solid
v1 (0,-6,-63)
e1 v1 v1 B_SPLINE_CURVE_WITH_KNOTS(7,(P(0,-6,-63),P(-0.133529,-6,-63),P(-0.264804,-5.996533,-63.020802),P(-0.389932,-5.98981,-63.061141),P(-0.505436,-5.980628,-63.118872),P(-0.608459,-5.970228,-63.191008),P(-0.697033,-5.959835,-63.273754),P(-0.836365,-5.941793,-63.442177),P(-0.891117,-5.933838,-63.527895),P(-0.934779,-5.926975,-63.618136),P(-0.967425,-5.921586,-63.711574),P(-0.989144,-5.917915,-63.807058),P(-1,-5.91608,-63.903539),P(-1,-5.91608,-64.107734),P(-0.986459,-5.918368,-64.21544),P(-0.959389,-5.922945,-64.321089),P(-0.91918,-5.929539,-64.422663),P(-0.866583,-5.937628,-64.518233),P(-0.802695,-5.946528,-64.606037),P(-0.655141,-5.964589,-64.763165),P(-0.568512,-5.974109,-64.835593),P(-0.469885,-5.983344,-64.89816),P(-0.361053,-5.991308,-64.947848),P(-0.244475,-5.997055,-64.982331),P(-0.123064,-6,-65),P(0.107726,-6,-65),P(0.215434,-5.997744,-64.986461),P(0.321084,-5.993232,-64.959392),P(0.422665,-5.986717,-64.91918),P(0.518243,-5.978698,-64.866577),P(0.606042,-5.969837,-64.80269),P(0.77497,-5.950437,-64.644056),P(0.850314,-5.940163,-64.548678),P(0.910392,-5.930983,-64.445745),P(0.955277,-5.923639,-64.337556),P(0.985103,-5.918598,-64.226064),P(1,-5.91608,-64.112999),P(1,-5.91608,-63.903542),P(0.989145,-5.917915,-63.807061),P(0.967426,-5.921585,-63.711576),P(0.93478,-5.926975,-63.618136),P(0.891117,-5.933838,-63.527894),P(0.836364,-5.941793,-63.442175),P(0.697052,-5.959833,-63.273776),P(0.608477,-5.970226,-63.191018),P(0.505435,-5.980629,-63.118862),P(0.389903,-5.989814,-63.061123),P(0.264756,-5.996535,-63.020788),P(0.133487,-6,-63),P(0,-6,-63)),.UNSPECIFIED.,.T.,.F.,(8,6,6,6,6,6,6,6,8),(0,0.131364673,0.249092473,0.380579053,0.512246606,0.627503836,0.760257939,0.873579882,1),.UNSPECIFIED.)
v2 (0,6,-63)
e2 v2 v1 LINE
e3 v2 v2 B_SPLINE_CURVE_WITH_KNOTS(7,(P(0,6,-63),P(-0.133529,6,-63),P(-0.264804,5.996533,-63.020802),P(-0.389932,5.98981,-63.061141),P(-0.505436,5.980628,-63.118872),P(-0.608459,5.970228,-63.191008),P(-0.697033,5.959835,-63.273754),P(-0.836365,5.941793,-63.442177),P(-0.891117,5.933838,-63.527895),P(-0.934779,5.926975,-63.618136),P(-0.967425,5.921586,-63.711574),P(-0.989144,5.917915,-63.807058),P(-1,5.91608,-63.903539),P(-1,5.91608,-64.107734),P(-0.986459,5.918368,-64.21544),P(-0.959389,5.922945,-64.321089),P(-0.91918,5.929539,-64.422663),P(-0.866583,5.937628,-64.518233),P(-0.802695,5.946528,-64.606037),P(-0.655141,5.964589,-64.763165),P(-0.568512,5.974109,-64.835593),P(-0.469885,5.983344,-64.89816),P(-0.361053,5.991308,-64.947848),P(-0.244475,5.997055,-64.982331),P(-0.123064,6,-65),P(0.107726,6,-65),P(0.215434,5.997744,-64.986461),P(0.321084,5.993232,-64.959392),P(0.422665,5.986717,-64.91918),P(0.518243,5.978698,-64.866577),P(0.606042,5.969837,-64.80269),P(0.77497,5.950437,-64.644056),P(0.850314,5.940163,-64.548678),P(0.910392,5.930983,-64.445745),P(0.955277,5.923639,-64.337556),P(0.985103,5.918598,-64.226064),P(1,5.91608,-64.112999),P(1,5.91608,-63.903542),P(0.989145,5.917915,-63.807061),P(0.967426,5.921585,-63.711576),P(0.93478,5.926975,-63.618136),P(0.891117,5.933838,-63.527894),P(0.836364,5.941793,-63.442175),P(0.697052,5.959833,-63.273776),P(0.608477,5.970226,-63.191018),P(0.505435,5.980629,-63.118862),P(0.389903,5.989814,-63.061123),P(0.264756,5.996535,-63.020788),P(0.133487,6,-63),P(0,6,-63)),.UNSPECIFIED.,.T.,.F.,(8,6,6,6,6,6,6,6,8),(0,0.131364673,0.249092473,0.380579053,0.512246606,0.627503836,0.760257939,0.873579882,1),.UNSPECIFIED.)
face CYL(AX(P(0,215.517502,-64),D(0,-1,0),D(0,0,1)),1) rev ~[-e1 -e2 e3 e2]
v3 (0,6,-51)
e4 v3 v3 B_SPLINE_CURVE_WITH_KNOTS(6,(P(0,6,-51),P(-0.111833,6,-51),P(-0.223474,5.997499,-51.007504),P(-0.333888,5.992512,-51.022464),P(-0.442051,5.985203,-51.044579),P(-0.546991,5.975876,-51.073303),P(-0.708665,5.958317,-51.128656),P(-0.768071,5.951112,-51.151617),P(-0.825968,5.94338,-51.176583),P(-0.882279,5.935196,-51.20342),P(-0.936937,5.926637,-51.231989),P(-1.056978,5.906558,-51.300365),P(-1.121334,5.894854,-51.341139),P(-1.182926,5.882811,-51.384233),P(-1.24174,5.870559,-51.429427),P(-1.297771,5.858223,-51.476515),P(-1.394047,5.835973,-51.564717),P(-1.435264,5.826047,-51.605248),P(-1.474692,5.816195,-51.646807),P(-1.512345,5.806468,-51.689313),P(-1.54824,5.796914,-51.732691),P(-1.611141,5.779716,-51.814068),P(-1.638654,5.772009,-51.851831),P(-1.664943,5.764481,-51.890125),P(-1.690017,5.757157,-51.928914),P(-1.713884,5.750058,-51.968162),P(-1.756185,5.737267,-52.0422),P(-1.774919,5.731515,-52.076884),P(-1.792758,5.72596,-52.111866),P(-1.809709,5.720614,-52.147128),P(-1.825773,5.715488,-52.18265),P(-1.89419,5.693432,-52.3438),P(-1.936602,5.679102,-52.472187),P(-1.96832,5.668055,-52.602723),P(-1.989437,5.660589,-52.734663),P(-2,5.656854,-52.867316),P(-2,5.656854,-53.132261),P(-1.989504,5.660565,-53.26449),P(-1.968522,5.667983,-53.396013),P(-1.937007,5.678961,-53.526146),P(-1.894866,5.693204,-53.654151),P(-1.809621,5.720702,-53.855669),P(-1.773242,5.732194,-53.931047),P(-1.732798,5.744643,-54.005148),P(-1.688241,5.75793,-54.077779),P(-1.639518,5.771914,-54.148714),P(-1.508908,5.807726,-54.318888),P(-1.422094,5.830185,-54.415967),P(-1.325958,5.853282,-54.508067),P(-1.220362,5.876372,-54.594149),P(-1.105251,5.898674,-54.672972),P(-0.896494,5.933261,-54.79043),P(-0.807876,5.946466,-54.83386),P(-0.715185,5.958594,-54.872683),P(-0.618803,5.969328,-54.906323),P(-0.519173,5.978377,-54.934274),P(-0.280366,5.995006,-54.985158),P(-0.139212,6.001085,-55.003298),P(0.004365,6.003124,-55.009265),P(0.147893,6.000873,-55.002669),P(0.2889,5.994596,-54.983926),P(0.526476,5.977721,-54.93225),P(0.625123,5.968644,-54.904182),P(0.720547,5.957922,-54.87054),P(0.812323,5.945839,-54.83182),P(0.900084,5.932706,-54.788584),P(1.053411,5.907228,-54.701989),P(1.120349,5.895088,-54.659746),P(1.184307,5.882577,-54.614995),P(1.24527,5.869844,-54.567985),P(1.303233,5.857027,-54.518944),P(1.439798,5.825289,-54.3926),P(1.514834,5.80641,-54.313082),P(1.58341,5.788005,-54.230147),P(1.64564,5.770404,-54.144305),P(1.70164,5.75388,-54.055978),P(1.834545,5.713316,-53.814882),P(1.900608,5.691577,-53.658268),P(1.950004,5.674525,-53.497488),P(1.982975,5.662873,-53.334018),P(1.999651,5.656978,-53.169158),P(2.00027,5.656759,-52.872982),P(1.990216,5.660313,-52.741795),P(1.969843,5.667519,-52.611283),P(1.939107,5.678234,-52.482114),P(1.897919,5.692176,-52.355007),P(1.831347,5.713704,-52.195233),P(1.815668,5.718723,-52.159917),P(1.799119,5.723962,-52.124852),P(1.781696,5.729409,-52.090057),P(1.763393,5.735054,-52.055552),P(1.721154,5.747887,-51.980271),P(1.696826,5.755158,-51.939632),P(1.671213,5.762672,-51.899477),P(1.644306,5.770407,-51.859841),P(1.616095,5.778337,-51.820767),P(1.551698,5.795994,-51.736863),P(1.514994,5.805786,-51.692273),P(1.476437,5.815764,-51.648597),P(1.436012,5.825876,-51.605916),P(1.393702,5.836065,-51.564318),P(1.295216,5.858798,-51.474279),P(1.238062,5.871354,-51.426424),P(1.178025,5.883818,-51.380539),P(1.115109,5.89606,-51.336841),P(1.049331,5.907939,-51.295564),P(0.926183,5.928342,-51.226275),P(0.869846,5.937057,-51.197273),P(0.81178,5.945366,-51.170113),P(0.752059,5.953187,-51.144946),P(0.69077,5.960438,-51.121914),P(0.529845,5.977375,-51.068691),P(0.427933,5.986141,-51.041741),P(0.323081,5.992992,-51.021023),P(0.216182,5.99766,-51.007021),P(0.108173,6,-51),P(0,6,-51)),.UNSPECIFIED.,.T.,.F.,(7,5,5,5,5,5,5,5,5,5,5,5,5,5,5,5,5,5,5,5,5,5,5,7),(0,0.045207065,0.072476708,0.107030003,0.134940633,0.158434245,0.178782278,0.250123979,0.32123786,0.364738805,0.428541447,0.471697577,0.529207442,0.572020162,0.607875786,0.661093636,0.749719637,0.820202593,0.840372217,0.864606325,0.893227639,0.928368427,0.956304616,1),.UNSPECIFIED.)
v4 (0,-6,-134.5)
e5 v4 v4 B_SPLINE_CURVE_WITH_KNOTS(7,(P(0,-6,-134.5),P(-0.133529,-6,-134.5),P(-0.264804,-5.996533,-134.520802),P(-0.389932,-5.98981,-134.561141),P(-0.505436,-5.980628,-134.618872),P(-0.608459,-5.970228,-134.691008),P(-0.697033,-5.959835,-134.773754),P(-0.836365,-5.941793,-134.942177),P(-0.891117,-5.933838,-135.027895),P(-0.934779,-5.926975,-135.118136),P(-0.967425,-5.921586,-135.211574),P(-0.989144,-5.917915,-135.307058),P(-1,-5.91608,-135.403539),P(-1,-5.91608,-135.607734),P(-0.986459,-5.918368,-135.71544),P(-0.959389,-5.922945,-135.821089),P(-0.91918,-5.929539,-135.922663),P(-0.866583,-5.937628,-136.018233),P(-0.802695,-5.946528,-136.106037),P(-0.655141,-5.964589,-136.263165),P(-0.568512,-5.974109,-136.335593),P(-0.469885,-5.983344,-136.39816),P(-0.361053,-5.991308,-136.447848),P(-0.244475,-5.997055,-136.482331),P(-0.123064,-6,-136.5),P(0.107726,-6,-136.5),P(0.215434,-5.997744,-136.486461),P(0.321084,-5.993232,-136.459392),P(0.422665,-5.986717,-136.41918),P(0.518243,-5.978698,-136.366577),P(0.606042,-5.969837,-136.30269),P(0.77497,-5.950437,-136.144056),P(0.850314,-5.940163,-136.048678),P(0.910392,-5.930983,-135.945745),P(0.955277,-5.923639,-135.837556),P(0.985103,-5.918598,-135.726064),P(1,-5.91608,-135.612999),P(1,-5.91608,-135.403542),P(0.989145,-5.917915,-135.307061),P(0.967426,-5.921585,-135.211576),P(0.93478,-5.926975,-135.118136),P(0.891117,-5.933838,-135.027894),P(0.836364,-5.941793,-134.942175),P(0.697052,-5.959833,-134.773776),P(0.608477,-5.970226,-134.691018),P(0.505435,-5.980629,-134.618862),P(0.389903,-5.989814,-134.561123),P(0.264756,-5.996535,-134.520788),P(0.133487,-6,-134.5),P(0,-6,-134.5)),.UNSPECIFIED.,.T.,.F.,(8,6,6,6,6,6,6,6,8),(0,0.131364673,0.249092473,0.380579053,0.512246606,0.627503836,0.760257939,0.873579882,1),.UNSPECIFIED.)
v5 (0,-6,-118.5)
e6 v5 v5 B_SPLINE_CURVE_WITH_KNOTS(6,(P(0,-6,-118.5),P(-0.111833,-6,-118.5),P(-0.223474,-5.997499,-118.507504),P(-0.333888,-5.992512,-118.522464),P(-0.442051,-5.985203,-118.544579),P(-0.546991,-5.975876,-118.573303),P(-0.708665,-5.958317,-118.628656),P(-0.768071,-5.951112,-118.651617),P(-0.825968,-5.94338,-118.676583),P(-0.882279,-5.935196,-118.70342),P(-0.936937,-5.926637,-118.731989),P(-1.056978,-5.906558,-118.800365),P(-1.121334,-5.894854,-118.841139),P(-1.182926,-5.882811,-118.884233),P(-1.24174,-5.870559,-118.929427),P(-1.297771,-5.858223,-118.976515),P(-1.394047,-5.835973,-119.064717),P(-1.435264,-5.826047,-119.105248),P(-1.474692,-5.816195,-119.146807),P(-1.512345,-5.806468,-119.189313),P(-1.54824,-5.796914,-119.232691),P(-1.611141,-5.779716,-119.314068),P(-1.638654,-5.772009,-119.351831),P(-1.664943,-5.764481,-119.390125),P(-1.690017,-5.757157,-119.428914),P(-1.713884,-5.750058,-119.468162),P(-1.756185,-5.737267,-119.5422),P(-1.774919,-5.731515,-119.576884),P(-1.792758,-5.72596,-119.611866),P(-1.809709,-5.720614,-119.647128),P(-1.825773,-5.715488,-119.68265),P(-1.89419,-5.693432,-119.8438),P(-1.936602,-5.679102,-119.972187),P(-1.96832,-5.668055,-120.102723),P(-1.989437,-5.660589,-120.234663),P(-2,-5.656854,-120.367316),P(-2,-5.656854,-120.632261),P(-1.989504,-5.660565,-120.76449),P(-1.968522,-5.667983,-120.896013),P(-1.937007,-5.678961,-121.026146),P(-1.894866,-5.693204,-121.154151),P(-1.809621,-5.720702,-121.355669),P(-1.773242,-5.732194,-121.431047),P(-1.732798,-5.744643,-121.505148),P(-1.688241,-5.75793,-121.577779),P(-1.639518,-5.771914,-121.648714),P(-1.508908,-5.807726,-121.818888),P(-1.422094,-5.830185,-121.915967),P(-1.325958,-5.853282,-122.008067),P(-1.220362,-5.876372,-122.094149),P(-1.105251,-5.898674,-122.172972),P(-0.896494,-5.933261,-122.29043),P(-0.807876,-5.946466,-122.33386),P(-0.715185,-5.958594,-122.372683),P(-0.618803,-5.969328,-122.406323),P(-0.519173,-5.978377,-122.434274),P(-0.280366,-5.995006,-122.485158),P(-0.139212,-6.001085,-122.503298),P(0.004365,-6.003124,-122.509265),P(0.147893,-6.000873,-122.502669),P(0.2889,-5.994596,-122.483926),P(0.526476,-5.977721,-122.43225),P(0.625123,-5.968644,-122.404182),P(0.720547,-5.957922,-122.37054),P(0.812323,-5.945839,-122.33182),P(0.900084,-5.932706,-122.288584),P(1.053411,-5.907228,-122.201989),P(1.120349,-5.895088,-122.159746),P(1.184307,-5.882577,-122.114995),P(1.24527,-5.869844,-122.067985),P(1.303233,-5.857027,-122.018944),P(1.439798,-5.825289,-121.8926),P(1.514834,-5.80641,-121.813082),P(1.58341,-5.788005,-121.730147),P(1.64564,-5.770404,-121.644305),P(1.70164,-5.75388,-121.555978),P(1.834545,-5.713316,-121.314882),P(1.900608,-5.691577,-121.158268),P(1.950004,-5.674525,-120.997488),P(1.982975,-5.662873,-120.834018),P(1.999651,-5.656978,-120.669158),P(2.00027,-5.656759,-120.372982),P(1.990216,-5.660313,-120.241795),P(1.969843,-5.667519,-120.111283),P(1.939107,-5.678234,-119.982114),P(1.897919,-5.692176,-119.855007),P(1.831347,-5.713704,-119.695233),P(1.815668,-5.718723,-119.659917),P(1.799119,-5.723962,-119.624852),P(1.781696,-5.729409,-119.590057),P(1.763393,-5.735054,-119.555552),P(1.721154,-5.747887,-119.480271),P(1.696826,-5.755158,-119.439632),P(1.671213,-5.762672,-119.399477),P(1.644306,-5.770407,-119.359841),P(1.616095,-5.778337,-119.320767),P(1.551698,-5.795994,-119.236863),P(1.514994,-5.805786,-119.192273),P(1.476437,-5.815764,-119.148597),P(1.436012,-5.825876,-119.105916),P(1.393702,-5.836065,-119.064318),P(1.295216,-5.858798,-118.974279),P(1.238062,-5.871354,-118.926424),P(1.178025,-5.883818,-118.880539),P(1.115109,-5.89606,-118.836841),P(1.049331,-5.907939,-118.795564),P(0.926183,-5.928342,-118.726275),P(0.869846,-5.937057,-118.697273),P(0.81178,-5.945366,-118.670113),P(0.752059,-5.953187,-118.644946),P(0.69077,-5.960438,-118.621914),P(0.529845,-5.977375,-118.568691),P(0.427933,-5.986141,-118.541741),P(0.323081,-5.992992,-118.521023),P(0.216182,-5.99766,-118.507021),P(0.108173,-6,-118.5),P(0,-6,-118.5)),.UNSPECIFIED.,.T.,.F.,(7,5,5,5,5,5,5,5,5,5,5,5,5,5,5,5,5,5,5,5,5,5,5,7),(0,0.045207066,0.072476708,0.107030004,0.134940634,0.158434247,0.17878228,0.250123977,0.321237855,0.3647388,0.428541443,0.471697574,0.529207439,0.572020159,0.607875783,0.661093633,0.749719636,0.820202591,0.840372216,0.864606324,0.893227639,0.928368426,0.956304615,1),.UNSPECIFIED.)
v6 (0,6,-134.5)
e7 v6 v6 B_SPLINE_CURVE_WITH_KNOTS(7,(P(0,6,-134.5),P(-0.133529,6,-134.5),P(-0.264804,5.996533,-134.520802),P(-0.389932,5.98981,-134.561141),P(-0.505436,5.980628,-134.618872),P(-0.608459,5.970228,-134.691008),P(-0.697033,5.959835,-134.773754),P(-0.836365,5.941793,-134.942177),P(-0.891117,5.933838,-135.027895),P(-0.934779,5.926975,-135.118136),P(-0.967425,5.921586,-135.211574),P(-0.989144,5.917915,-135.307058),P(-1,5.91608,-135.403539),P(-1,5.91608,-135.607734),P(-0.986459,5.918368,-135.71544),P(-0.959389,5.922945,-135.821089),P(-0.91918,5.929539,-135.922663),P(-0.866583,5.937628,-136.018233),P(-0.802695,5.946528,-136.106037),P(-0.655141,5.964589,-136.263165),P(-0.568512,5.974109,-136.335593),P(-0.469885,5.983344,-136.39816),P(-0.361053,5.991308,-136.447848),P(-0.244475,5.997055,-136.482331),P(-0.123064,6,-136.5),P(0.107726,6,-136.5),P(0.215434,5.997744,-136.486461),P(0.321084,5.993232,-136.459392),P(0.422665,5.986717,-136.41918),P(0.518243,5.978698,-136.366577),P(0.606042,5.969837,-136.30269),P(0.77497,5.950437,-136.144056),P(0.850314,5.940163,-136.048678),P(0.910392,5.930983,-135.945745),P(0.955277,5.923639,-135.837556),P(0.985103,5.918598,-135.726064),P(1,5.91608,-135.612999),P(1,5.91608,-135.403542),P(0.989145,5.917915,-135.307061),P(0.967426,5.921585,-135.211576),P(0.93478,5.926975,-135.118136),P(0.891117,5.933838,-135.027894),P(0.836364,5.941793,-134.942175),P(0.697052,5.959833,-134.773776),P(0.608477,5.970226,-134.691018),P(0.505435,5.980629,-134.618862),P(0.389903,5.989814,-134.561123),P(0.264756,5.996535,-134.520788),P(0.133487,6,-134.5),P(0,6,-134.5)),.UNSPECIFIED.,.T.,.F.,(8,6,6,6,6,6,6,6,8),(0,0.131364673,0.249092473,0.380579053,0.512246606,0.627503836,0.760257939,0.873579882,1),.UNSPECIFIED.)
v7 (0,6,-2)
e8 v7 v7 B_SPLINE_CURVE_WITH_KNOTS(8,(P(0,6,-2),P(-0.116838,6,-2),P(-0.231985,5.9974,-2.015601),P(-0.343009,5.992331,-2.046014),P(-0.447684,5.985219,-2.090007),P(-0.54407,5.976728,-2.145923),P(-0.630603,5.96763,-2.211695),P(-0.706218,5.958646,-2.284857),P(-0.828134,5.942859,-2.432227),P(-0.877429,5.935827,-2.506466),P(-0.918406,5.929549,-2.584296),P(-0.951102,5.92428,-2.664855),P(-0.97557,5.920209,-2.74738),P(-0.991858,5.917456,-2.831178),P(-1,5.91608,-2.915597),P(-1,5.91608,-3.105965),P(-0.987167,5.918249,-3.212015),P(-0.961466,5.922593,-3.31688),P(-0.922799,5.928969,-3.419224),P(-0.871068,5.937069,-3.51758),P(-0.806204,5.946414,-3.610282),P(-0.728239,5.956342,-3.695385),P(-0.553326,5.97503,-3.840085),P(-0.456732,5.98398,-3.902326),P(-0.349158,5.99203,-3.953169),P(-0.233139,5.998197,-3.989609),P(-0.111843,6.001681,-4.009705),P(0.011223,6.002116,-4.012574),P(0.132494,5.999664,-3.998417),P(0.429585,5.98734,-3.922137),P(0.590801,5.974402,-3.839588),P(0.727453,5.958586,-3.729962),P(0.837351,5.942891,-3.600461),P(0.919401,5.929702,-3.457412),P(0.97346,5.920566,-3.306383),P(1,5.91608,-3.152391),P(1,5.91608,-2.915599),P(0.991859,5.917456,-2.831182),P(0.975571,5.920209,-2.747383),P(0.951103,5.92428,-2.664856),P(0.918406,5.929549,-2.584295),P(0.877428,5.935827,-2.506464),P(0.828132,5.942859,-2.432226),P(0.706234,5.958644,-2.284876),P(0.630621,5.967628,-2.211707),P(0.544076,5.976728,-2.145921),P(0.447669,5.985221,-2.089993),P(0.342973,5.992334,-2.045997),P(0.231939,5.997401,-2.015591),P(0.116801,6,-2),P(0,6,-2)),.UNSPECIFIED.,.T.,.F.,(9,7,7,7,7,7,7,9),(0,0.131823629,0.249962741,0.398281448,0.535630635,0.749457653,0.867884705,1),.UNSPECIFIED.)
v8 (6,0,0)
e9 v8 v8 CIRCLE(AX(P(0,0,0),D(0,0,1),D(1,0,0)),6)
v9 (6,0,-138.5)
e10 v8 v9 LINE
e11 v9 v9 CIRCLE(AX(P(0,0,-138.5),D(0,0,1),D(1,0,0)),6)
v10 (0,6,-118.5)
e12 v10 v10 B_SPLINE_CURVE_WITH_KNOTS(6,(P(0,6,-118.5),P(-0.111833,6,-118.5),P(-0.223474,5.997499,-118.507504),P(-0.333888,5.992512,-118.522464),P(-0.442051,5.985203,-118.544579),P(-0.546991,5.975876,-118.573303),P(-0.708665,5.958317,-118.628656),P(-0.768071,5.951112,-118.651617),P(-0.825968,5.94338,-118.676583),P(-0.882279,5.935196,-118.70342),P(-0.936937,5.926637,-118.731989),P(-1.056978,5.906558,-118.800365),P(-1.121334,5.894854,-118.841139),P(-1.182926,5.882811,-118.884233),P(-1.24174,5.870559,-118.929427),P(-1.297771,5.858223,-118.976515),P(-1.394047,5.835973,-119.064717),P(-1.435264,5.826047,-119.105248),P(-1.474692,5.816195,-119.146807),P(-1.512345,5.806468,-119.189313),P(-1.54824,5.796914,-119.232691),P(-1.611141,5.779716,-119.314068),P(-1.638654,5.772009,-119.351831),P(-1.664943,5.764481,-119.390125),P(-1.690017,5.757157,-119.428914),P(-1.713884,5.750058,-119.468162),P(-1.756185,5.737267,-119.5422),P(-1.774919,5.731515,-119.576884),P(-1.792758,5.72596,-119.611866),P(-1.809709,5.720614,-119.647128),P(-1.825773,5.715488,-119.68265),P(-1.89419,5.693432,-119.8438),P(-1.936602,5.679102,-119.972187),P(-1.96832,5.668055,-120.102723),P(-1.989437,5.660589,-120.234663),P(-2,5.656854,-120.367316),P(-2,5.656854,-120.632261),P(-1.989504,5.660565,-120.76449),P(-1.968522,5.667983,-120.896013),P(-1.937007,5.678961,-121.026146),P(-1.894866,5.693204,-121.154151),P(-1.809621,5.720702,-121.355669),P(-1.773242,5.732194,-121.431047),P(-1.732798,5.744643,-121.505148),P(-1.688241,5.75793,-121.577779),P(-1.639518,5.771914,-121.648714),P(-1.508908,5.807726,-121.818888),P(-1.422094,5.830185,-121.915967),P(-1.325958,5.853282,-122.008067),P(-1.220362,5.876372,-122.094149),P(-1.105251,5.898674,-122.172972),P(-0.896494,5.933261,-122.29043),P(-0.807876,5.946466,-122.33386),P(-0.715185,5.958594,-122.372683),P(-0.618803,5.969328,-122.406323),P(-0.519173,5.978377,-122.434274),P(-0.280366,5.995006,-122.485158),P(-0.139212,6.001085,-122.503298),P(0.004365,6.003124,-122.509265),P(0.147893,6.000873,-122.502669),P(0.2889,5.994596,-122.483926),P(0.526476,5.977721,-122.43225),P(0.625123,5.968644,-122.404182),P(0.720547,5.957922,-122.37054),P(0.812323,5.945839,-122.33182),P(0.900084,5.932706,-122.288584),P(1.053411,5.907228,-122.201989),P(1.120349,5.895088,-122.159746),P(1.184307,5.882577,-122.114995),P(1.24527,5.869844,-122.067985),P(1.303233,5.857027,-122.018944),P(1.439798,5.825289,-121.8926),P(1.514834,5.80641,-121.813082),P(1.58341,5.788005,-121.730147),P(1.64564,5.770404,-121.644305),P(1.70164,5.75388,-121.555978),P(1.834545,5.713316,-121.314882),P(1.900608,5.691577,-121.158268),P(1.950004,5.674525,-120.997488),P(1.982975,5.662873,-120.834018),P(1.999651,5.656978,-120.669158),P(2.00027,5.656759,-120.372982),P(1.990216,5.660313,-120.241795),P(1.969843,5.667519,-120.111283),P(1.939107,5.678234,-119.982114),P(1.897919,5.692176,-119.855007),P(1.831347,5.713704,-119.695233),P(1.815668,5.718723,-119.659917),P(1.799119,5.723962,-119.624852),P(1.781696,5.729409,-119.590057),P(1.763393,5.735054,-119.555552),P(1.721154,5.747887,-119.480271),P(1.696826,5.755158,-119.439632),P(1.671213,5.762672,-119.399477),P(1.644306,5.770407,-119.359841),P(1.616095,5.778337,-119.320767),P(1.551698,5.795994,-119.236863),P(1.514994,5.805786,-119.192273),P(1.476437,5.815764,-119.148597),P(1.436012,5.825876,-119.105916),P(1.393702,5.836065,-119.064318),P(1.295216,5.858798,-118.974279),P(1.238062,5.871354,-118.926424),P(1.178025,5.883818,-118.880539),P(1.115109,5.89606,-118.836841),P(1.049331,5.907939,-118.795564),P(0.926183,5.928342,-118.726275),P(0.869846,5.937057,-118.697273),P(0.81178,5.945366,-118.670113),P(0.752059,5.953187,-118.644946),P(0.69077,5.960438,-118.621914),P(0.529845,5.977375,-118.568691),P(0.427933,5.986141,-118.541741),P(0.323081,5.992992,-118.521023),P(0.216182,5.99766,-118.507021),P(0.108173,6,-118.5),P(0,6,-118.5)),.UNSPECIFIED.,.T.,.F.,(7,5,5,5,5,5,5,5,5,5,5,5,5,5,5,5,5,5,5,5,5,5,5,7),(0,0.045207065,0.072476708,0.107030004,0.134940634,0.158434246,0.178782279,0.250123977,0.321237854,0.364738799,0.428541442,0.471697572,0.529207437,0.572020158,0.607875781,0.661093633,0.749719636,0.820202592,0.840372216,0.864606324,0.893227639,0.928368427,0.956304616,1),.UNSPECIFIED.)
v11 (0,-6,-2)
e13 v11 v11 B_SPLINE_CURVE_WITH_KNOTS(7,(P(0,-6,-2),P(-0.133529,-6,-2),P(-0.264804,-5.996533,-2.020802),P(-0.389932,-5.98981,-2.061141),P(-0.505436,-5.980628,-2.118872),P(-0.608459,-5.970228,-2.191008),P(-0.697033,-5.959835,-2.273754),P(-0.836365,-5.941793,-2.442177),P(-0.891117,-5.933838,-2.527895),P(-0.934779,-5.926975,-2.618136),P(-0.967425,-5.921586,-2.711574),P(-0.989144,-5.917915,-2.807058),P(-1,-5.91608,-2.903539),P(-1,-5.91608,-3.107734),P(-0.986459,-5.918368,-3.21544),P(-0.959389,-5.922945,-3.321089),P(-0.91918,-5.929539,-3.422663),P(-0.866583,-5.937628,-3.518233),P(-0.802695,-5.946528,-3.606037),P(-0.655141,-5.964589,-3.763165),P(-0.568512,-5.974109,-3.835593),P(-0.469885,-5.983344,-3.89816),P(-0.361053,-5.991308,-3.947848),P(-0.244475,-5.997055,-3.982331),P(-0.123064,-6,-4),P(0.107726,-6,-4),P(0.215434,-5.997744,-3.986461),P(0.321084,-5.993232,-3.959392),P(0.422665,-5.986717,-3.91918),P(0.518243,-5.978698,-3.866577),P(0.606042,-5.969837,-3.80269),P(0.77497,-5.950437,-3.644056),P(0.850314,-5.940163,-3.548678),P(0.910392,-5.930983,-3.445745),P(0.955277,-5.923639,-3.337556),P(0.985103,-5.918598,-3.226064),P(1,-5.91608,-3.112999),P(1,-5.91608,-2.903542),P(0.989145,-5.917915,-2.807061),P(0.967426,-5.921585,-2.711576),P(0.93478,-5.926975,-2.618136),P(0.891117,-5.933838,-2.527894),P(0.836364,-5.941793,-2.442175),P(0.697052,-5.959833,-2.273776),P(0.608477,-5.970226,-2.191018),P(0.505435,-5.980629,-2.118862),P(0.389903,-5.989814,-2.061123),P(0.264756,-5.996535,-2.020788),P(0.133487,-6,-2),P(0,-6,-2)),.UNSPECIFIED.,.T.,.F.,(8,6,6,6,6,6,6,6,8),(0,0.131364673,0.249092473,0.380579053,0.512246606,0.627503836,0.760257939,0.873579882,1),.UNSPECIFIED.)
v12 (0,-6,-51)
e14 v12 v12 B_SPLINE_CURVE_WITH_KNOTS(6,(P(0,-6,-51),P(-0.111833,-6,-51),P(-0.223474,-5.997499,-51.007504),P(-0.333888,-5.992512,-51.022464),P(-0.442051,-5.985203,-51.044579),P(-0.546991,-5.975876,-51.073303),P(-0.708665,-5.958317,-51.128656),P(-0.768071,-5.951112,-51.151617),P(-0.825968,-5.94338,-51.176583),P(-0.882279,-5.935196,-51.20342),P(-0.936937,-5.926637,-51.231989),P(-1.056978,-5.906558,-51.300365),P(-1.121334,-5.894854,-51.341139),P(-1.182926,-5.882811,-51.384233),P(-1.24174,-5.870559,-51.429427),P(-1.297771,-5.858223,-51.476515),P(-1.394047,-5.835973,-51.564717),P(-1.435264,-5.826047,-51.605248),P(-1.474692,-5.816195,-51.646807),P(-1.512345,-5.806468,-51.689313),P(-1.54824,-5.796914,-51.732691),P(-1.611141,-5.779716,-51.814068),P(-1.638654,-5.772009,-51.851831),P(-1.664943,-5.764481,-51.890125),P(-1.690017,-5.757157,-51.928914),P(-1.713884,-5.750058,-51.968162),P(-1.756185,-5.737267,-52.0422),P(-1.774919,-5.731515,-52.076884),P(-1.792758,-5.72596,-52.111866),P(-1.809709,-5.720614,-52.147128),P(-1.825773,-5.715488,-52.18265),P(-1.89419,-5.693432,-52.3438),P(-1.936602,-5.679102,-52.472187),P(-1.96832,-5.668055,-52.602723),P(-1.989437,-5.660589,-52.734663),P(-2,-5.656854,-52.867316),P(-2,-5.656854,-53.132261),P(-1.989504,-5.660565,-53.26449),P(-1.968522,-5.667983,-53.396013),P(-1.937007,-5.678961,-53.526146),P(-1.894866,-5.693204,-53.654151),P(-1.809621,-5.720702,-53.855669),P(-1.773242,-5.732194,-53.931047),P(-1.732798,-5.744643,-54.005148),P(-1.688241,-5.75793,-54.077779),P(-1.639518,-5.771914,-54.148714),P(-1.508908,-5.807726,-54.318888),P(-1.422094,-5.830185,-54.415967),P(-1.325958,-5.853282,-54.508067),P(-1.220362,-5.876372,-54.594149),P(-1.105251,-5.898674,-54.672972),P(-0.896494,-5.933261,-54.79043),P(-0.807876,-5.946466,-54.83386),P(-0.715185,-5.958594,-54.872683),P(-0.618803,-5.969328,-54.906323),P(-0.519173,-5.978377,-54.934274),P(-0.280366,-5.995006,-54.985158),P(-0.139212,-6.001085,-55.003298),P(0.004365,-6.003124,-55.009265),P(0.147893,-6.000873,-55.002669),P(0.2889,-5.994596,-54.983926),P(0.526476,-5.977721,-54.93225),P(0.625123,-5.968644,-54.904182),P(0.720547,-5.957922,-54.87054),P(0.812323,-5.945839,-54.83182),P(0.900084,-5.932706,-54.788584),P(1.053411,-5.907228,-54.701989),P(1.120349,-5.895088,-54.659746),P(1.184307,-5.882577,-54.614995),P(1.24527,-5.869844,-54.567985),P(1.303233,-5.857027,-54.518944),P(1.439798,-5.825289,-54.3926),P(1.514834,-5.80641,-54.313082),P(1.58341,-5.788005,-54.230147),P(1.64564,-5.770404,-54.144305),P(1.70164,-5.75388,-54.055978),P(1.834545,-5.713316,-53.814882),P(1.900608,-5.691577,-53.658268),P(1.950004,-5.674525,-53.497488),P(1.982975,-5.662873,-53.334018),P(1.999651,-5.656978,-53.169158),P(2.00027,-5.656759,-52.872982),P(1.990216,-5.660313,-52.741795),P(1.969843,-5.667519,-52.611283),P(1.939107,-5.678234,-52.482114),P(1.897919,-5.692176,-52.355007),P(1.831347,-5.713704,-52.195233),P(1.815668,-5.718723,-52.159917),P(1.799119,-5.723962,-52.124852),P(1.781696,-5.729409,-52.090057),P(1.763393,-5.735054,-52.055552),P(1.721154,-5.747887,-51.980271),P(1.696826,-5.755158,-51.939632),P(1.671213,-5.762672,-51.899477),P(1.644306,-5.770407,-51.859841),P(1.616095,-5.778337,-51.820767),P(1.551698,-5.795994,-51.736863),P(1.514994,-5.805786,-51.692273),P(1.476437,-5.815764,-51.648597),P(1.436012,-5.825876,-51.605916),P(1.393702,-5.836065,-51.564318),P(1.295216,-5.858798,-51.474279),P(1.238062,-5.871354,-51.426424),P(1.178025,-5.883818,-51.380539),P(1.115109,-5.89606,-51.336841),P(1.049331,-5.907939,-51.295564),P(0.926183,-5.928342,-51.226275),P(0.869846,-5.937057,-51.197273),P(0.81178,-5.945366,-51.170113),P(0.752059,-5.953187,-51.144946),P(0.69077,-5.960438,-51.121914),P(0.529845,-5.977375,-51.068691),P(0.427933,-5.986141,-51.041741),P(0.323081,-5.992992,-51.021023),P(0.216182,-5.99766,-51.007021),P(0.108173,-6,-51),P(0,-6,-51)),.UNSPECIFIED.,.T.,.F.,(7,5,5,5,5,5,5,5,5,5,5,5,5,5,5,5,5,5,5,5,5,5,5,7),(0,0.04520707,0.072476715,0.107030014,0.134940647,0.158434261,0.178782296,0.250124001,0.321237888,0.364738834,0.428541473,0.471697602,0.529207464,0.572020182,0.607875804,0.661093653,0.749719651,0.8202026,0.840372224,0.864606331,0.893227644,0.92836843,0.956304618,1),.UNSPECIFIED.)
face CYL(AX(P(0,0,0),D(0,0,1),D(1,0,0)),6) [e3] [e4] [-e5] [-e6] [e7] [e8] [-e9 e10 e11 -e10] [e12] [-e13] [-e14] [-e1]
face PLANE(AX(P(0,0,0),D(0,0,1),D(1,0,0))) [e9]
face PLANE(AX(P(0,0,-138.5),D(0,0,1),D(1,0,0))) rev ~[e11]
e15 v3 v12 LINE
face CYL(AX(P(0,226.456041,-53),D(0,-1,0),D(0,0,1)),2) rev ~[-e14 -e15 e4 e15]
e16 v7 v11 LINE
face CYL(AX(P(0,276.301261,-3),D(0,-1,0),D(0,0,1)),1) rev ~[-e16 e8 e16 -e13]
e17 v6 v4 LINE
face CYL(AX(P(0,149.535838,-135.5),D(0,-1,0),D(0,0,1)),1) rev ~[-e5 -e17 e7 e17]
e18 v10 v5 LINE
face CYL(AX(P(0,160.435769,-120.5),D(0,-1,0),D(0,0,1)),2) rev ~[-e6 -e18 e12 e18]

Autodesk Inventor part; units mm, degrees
ref_plane "YZ Plane" through (0, 0, 0) normal (1, 0, 0) x (0, 1, 0)
ref_plane "XZ Plane" through (0, 0, 0) normal (0, 1, 0) x (-1, 0, 0)
ref_plane "XY Plane" through (0, 0, 0) normal (0, 0, 1) x (1, 0, 0)
sketch "スケッチ1" plane through (0, 0, 0) normal (0, 0, 1) x (1, 0, 0)
  circle A0 centre (0, 0) radius 6
  dimension "d0" = 12
extrude "押し出し1" add sketch "スケッチ1" against normal blind 138.5
sketch "スケッチ2" plane through (0, 0, 0) normal (0, 1, 0) x (-1, 0, 0)
  line L0 (0, 0) -> (0, -138.5)
  line L1 (-6, -138.5) -> (6, -138.5) projected
  line L2 (6, 0) -> (-6, 0) projected
  point P0 (0, -3)
  point P1 (0, -53)
  point P2 (0, -64)
  point P3 (0, -120.5)
  point P4 (0, -135.5)
  dimension "d3" = 3
  dimension "d4" = 53
  dimension "d5" = 64
  dimension "d6" = 3
  dimension "d7" = 18
hole "穴1" at (0, 0, -3) at (0, 0, -64) at (0, 0, -135.5) direction (0, -1, 0) diameter 2 end through all both
hole "穴2" at (0, 0, -53) at (0, 0, -120.5) direction (0, -1, 0) diameter 4 end through all both
properties part number "ローラー_軸"
